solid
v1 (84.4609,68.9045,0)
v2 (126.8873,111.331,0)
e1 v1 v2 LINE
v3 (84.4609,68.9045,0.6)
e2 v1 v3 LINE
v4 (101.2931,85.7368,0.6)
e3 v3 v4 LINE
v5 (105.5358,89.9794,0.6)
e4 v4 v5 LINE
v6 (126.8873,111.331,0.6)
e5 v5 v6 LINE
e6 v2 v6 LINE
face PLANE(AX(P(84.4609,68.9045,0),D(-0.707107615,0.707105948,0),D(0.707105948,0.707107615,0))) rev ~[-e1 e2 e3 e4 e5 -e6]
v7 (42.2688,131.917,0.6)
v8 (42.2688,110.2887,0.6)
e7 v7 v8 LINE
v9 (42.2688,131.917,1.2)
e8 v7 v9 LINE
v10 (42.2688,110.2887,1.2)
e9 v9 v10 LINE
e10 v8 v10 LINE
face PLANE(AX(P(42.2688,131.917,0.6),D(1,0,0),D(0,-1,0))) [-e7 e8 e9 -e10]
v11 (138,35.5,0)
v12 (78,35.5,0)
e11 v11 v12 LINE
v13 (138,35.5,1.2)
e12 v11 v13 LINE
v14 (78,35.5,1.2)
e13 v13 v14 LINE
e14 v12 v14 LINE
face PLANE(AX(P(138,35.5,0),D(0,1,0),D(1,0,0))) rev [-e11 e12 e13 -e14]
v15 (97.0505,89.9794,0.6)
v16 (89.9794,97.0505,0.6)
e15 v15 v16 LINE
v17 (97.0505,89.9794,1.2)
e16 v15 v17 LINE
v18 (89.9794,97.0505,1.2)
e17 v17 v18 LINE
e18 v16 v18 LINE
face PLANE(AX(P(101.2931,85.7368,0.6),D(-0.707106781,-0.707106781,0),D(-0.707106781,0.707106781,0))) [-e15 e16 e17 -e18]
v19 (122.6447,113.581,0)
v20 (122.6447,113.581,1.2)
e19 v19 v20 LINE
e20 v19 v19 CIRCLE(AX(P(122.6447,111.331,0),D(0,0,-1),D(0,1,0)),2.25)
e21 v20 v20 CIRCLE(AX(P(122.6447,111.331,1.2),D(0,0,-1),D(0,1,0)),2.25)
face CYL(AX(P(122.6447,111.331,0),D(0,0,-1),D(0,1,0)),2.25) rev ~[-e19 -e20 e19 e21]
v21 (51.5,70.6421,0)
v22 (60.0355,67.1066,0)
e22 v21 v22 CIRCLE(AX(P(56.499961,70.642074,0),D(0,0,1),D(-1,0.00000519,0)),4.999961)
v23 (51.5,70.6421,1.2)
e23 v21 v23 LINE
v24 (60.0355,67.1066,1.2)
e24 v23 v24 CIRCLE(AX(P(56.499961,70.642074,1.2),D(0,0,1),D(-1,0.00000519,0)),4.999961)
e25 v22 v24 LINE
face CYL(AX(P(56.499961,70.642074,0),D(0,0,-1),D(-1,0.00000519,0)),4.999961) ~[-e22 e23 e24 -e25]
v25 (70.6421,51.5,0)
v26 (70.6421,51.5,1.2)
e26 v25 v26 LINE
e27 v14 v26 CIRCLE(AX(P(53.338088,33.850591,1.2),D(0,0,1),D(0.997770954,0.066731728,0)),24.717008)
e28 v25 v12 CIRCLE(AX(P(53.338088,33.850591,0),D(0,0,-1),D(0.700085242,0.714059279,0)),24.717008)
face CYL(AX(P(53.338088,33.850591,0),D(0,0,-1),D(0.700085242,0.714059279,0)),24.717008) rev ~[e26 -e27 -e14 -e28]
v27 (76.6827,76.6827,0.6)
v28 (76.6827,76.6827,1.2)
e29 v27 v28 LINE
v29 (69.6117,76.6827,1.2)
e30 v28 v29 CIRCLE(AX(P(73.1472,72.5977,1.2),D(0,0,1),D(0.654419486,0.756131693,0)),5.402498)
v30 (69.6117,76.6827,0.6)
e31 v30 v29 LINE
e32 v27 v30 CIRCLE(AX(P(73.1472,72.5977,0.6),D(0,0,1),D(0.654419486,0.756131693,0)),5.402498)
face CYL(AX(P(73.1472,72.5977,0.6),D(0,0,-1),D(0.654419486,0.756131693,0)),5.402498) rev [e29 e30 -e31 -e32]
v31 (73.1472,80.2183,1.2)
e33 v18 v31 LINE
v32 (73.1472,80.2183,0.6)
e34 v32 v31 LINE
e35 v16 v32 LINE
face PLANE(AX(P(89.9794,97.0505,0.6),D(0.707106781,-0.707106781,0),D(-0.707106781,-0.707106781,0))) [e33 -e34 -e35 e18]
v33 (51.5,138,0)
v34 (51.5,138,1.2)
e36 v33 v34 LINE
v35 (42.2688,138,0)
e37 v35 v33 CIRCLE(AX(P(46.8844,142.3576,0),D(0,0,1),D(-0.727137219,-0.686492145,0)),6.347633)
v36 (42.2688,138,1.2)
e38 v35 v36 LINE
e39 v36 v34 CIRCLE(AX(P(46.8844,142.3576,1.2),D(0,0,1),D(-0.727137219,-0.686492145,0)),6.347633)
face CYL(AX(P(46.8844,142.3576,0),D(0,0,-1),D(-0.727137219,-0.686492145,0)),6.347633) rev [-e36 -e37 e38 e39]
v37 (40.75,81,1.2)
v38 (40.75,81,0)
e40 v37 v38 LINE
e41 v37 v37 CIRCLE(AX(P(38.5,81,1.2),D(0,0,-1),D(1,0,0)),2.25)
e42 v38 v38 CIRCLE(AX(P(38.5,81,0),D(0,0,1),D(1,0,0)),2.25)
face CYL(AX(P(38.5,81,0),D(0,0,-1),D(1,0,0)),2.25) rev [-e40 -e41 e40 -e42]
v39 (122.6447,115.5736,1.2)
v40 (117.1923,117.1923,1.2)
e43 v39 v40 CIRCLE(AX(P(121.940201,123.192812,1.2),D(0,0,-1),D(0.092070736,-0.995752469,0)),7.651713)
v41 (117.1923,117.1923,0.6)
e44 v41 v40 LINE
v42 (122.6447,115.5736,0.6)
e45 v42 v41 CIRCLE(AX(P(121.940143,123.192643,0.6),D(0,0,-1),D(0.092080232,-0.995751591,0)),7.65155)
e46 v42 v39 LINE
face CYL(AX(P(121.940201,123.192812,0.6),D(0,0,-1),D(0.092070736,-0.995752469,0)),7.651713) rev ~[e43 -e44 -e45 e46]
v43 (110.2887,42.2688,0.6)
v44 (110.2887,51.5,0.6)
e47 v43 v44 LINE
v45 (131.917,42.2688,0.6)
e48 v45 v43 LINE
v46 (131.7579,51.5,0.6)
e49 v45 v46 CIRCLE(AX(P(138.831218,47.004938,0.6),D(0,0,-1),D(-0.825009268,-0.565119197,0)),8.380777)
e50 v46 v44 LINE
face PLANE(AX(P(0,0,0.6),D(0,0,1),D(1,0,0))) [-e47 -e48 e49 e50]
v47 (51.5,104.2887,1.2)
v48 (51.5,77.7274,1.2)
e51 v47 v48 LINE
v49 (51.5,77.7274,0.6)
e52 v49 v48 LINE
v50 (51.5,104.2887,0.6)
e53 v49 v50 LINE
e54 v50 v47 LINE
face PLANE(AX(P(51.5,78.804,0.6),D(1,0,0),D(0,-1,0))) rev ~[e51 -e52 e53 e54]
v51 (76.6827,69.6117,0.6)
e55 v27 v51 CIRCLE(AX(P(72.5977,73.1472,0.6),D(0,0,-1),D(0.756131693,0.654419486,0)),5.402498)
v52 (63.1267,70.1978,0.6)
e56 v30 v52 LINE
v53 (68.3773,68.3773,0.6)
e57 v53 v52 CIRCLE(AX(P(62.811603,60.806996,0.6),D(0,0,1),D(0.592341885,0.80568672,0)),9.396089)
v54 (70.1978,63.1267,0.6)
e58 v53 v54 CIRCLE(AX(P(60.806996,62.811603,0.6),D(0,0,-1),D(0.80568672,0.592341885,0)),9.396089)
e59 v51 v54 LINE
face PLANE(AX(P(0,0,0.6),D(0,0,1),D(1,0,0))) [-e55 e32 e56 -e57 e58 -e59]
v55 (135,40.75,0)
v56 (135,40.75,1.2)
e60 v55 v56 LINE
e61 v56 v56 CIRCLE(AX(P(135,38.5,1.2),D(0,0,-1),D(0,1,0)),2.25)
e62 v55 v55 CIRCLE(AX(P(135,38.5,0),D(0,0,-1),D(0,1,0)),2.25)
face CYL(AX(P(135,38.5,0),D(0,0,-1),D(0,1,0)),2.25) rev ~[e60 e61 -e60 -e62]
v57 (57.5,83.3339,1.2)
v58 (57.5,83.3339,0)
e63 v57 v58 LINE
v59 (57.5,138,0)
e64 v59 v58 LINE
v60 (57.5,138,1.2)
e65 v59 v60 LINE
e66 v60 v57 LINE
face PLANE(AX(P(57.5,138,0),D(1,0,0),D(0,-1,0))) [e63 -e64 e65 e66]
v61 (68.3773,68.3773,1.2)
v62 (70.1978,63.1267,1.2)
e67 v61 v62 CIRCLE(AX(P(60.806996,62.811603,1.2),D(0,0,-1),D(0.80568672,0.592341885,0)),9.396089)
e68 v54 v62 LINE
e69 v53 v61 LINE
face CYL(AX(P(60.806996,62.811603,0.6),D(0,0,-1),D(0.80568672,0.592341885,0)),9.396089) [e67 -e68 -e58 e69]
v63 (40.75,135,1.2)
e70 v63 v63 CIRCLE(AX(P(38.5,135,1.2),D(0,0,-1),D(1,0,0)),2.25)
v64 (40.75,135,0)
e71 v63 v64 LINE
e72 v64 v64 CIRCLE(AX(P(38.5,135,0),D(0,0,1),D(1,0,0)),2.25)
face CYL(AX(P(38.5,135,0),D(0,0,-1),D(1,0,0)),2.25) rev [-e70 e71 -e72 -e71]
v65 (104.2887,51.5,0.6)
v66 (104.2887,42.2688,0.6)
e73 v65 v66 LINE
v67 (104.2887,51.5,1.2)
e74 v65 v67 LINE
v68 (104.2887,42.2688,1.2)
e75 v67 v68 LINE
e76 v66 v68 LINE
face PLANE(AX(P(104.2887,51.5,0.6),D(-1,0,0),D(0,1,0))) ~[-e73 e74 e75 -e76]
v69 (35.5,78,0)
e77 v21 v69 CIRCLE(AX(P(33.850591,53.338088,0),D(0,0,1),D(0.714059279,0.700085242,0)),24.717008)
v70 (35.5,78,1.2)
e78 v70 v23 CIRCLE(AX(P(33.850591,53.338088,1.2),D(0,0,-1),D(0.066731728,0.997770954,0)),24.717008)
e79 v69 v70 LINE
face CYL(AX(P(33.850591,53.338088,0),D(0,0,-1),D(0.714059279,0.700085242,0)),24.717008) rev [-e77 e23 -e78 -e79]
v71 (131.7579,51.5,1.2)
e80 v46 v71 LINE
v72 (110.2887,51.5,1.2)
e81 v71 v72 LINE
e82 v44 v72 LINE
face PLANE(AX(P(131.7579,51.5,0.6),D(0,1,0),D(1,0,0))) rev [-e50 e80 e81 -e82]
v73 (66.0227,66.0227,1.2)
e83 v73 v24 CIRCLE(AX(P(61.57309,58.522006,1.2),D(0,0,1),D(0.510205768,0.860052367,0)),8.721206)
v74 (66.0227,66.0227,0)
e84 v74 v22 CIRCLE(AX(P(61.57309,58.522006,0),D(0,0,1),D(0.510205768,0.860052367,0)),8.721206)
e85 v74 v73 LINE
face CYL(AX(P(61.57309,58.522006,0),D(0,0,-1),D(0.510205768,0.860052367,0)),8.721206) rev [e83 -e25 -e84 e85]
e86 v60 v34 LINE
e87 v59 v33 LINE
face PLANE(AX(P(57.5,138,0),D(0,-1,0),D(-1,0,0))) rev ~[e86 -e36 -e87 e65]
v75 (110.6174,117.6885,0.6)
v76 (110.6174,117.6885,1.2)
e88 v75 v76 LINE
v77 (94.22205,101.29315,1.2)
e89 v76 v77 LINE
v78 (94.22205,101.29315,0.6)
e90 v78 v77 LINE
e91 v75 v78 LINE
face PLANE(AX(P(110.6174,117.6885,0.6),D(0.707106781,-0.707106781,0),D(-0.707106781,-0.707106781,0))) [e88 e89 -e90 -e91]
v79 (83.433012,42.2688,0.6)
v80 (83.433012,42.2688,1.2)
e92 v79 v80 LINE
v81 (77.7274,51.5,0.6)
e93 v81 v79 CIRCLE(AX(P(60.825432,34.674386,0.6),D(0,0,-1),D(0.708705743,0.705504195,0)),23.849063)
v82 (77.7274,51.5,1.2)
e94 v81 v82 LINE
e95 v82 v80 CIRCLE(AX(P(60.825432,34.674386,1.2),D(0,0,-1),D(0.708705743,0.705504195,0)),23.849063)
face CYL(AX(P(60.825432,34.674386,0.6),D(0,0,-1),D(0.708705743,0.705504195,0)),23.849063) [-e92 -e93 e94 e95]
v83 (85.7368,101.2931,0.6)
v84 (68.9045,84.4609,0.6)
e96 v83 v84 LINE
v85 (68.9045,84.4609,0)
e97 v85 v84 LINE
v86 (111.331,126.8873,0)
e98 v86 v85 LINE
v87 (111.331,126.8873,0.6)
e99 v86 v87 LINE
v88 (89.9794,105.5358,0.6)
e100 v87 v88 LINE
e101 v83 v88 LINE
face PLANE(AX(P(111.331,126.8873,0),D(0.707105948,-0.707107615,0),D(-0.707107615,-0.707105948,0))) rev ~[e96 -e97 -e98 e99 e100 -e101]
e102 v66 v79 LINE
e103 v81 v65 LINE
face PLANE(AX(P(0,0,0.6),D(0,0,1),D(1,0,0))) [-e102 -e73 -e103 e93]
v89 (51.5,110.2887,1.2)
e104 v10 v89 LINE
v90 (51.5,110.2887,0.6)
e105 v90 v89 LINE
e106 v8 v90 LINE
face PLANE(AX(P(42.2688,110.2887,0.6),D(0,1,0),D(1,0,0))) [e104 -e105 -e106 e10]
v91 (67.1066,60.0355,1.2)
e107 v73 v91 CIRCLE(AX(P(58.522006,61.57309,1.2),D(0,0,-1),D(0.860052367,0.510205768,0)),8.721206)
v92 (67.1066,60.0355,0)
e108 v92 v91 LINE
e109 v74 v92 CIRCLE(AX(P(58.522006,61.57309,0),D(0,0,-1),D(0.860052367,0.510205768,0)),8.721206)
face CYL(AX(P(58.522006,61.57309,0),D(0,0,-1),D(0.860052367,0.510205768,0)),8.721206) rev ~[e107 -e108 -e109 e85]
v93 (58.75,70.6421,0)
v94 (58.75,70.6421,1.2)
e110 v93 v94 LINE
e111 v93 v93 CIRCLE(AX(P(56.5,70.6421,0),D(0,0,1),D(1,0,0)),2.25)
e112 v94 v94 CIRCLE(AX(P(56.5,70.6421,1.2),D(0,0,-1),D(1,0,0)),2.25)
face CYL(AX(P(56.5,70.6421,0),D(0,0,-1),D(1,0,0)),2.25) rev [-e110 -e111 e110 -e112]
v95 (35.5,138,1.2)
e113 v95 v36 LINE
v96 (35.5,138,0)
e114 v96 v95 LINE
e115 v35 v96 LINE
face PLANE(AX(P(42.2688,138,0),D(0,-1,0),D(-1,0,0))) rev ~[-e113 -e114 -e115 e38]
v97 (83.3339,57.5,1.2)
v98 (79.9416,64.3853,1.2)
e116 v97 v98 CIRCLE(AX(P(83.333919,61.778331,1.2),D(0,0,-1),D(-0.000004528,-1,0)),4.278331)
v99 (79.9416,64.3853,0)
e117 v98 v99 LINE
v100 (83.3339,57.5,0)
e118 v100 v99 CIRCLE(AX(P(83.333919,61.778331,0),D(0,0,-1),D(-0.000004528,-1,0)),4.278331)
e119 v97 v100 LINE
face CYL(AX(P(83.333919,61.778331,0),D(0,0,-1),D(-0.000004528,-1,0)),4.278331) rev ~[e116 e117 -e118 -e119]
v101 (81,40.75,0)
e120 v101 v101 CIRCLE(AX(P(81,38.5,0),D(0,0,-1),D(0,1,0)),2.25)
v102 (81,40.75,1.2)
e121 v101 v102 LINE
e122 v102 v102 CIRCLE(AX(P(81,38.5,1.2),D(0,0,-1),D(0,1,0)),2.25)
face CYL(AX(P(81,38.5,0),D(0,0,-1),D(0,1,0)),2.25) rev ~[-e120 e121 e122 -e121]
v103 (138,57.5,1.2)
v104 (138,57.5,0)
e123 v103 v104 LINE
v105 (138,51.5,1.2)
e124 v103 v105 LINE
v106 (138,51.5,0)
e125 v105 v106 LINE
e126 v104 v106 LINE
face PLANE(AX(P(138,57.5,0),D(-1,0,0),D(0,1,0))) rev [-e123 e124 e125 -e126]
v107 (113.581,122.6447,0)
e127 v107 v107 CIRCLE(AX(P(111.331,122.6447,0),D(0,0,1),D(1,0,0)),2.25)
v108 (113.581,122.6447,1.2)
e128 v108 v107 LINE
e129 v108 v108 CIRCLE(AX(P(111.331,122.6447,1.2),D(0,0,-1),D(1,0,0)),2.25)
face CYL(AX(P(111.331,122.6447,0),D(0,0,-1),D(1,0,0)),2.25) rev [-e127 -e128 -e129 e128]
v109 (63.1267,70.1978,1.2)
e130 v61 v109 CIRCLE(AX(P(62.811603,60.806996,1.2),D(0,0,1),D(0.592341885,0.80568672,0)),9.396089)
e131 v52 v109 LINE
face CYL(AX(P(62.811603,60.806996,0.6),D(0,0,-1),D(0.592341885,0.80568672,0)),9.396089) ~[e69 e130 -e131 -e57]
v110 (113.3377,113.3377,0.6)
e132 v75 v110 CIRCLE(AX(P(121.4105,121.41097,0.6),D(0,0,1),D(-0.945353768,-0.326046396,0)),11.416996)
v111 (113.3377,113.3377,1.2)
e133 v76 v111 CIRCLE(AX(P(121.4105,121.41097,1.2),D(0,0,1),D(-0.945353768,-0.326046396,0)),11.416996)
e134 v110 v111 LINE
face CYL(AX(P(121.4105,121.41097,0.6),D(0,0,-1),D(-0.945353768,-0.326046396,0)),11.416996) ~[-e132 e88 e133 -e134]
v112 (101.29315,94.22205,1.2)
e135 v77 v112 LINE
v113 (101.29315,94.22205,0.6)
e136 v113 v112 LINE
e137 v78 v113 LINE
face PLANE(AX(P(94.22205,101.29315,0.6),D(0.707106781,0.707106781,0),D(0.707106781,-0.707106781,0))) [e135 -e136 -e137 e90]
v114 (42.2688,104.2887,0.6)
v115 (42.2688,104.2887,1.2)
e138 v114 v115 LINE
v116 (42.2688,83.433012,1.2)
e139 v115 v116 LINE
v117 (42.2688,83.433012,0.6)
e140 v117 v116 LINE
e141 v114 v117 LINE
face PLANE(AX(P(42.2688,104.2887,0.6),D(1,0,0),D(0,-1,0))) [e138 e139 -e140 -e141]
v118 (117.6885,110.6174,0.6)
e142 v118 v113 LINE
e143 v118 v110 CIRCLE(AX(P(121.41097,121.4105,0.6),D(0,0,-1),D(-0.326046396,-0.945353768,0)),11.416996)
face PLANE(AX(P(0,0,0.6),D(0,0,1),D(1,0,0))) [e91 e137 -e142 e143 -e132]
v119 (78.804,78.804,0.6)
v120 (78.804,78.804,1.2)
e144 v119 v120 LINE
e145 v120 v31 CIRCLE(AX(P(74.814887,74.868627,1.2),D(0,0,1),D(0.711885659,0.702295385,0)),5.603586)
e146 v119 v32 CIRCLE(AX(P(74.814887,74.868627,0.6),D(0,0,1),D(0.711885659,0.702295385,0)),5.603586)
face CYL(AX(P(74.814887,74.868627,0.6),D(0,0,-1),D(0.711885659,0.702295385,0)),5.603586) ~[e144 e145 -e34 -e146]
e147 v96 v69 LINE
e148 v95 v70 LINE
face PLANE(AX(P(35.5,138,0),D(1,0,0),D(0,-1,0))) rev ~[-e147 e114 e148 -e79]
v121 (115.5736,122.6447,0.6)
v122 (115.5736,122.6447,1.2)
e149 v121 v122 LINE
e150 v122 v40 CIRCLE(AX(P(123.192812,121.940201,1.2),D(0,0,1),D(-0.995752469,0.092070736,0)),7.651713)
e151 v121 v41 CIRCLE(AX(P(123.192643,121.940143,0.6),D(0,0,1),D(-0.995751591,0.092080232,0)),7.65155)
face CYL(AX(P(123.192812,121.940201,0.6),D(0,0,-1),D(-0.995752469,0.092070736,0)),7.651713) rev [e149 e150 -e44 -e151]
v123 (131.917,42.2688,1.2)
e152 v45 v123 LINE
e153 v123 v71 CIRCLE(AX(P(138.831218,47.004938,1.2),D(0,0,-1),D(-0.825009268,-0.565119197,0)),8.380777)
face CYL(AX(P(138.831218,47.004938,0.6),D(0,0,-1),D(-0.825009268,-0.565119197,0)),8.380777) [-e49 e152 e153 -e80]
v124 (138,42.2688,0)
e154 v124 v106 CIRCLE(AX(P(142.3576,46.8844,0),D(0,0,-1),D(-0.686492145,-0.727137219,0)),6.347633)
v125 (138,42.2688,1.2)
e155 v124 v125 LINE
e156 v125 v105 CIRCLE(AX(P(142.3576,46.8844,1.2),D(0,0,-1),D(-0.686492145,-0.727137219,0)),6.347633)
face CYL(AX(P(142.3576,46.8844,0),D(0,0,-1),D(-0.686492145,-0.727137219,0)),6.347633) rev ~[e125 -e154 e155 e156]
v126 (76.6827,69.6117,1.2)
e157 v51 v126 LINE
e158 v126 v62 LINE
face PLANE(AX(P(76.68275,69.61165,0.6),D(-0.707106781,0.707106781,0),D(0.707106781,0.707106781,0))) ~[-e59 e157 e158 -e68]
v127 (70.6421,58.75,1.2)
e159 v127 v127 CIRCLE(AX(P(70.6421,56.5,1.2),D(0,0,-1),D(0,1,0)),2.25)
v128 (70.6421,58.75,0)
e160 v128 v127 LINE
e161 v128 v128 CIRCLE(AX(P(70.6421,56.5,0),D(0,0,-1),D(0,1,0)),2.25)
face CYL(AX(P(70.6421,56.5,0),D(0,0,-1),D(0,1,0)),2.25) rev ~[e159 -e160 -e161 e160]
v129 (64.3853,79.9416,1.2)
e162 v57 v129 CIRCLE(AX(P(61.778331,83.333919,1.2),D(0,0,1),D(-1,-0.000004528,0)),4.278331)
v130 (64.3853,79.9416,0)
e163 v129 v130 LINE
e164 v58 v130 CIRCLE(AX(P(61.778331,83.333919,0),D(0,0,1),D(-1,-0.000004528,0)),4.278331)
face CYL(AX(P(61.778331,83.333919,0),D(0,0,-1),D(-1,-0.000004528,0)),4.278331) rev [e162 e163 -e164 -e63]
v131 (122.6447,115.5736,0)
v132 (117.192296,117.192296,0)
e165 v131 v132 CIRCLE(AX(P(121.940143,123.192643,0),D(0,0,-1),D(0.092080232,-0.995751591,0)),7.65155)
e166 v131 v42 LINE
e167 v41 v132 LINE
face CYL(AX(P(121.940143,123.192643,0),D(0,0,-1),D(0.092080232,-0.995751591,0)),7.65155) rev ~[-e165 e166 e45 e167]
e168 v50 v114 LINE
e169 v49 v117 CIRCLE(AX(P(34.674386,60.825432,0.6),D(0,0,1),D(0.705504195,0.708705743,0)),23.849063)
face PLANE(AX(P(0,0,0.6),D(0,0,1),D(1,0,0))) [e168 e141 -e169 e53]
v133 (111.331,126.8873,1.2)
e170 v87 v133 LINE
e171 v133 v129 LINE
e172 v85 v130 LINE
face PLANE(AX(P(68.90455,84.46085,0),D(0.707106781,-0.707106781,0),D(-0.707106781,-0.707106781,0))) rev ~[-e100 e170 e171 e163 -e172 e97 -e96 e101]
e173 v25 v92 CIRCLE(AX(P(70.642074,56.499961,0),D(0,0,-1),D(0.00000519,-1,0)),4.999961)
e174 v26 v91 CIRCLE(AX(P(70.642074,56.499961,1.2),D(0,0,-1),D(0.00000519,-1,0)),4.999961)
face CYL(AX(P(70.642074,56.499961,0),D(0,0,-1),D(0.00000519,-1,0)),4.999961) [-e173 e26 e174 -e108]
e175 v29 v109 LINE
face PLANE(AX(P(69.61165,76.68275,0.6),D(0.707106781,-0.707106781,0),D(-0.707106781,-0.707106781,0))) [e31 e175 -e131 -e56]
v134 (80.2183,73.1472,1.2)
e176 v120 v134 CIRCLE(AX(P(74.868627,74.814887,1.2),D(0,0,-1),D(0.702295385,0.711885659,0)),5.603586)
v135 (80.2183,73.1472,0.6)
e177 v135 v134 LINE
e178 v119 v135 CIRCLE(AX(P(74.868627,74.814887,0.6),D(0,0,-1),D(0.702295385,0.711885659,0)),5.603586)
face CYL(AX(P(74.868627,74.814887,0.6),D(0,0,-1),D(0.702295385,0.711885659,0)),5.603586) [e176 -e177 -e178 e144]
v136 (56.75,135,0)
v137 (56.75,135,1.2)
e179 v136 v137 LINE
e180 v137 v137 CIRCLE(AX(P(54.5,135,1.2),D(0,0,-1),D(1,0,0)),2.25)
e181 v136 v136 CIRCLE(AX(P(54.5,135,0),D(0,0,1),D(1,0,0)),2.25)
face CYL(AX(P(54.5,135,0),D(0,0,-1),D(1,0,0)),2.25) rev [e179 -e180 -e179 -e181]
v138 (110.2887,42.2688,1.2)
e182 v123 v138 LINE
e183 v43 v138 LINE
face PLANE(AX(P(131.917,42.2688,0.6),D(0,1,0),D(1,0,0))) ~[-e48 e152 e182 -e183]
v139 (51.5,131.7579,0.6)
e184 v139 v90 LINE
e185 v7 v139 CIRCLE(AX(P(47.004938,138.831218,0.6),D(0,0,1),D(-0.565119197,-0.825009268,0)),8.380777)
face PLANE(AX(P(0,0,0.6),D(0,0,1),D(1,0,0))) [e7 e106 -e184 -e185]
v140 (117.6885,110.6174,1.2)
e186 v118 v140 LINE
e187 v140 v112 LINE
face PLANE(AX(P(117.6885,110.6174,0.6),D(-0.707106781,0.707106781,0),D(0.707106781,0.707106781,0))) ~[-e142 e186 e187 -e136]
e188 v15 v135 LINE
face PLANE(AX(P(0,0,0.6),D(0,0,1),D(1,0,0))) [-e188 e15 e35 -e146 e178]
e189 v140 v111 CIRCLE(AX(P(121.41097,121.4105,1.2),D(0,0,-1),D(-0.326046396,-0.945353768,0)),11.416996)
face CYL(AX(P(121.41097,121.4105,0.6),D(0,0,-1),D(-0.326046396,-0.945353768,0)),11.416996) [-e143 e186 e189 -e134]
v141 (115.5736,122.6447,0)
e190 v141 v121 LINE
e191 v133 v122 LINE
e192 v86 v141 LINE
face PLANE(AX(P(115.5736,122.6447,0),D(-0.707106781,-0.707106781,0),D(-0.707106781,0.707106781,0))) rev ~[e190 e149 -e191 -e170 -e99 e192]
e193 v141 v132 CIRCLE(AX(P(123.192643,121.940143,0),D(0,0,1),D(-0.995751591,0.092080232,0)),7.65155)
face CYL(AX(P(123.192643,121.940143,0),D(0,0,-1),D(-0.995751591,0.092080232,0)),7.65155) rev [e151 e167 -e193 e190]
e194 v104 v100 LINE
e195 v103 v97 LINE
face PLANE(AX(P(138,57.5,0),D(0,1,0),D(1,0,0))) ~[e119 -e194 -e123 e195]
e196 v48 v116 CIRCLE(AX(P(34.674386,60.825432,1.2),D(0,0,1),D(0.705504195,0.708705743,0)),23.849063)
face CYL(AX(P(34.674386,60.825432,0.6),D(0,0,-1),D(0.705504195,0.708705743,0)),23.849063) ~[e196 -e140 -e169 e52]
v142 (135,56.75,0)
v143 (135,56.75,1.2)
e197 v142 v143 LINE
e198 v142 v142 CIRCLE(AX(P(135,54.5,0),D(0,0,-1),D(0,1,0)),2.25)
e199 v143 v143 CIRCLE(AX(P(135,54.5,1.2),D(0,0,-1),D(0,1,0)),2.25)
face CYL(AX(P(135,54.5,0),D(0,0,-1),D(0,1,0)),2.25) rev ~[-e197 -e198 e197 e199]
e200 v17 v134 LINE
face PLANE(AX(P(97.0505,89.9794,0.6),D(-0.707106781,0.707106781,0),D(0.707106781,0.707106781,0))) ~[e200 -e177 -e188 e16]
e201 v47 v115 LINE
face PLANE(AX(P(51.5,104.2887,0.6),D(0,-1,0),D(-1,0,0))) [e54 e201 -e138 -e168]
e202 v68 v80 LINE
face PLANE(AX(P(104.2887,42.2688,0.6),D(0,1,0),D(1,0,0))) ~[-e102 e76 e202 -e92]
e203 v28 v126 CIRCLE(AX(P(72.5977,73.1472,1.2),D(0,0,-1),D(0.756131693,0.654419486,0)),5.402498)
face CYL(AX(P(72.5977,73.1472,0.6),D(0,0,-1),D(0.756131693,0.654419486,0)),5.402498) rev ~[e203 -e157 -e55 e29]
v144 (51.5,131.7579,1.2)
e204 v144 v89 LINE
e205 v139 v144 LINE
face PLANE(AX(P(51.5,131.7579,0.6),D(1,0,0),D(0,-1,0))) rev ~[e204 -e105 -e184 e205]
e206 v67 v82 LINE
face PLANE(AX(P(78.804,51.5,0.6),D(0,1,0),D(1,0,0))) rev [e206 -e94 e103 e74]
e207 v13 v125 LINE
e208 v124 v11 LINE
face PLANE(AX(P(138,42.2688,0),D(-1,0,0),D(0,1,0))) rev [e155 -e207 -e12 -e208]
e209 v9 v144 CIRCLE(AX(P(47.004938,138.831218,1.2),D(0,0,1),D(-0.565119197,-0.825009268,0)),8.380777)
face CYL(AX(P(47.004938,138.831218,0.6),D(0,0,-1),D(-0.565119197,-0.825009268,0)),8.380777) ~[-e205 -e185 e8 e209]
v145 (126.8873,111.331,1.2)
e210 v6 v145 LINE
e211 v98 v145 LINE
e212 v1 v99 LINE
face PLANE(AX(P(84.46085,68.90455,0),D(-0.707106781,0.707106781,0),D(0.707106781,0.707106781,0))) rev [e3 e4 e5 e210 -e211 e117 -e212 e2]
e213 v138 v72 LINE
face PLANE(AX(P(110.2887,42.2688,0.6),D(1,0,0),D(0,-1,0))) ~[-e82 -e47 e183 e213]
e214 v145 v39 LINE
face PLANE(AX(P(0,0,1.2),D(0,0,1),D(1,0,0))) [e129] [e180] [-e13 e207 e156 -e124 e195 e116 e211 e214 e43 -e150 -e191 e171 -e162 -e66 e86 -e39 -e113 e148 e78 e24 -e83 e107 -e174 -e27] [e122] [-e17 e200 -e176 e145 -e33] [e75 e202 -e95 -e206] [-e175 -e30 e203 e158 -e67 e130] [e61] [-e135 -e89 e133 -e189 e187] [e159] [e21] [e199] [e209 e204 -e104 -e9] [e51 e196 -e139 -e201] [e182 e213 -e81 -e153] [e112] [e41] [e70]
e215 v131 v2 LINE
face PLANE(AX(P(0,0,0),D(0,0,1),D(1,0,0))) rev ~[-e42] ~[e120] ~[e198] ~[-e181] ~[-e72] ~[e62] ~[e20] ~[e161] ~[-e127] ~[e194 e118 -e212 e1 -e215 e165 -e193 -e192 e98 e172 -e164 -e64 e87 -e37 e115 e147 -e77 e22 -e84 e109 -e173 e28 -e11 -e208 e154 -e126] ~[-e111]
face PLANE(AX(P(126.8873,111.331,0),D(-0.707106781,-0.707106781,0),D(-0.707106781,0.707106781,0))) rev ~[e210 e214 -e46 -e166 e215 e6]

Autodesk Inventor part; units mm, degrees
ref_plane "YZ Plane" through (0, 0, 0) normal (1, 0, 0) x (0, 1, 0)
ref_plane "XZ Plane" through (0, 0, 0) normal (0, 1, 0) x (-1, 0, 0)
sketch "Sketch1" plane through (0, 0, 0) normal (0, 0, 1) x (1, 0, 0)
  line L0 (-41.5, 58) -> (41.5, 58)
  line L1 (41.5, 58) -> (41.5, 158)
  line L2 (41.5, 158) -> (-41.5, 158)
  line L3 (-41.5, 158) -> (-41.5, 58)
  line L4 (58, 41.5) -> (158, 41.5)
  line L5 (158, 41.5) -> (158, -41.5)
  line L6 (158, -41.5) -> (58, -41.5)
  line L7 (58, -41.5) -> (58, 41.5)
  line L8 (-131.1952, 0) -> (204.4844, 0) construction
  line L9 (-48, 48) -> (48, 48)
  line L10 (48, 48) -> (48, -48)
  line L11 (48, -48) -> (-48, -48)
  line L12 (-48, -48) -> (-48, 48)
  line L13 (0, 180.9439) -> (0, -136.3054) construction
  point P0 (0, 0)
  point P1 (-48, 0)
  point P2 (0, 48)
  point P3 (0, 58)
  point P4 (58, 0)
  dimension "d0" = 83
  dimension "d1" = 100
  dimension "d2" = 100
  dimension "d3" = 83
  dimension "d5" = 96
  dimension "d6" = 96
  dimension "d7" = 10
  dimension "d8" = 10
sketch "Sketch2" plane through (0, 0, 0) normal (0, 0, 1) x (1, 0, 0)
  line L0 (41.5, 158) -> (-41.5, 158) projected
  line L1 (41.5, 58) -> (41.5, 158) projected
  line L2 (-48, 48) -> (48, 48) projected
  line L3 (48, 48) -> (48, -48) projected
  line L4 (58, -41.5) -> (58, 41.5) projected
  line L5 (58, 41.5) -> (158, 41.5) projected
  line L6 (-41.5, 58) -> (41.5, 58) projected
  line L7 (158, 41.5) -> (158, -41.5) projected
  line L8 (48, 48) -> (136.7868, 136.7868) construction
  line L9 (35.5, 78) -> (57.5, 78)
  line L10 (57.5, 78) -> (57.5, 138)
  line L11 (57.5, 138) -> (35.5, 138)
  line L12 (35.5, 138) -> (35.5, 78)
  line L13 (41.5, 108) -> (-41.5, 108) construction
  line L14 (108, 41.5) -> (108, -41.5) construction
  line L15 (41.5, 158) -> (220.1006, 158) construction
  line L16 (158, 41.5) -> (158, 206.0131) construction
  line L17 (115.5736, 158) -> (158, 115.5736) construction
  line L18 (41.5, 138) -> (41.5, 78) construction
  line L19 (51.5, 138) -> (51.5, 78) construction
  line L20 (46.5, 138) -> (46.5, 78) construction
  line L21 (51.5, 158) -> (51.5, 70.6421)
  line L22 (60.0355, 67.1066) -> (133.2513, 140.3223)
  arc A0 (51.5, 158) -> (133.2513, 140.3223) centre (109.2071, 226.9991) ccw
  line L23 (68.9045, 84.4609) -> (84.4609, 68.9045)
  line L24 (84.4609, 68.9045) -> (126.8873, 111.331)
  line L25 (126.8873, 111.331) -> (111.331, 126.8873)
  line L26 (111.331, 126.8873) -> (68.9045, 84.4609)
  line L27 (80.2183, 73.1472) -> (122.6447, 115.5736) construction
  line L28 (105.6741, 90.1177) -> (90.1177, 105.6741) construction
  line L29 (73.1472, 80.2183) -> (115.5736, 122.6447) construction
  line L30 (76.6827, 76.6827) -> (119.1091, 119.1091) construction
  circle A1 centre (73.1472, 84.4609) radius 2.25
  circle A2 centre (111.331, 122.6447) radius 2.25
  circle A3 centre (84.4609, 73.1472) radius 2.25
  circle A4 centre (122.6447, 111.331) radius 2.25
  circle A5 centre (38.5, 135) radius 2.25
  circle A6 centre (38.5, 81) radius 2.25
  circle A7 centre (54.5, 135) radius 2.25
  circle A8 centre (54.5, 81) radius 2.25
  arc A9 (51.5, 70.6421) -> (60.0355, 67.1066) centre (56.5, 70.6421) ccw
  point P0 (0, 0)
  point P1 (158, 158)
  dimension "d23" = 30
  dimension "d25" = 45
  dimension "d30" = 10
  dimension "d37" = 10
  dimension "d38" = 60
  dimension "d39" = 4.5
  dimension "d40" = 3
  dimension "d42" = 4.5
  dimension "d43" = 3
  dimension "d46" = 60
  dimension "d47" = 30
  dimension "d48" = 4.5
  dimension "d49" = 3
  dimension "d50" = 3
  dimension "d51" = 4.5
  dimension "d52" = 3
  dimension "d53" = 3
  dimension "d54" = 5
  dimension "d55" = 25
  dimension "d57" = 3
  dimension "d58" = 3
  dimension "d59" = 3
  dimension "d60" = 3
sketch "Sketch6" plane through (0, 0, 0) normal (0, 0, 1) x (1, 0, 0)
  line L0 (57.5, 138) -> (35.5, 138) projected
  line L1 (35.5, 138) -> (35.5, 78) projected
  line L2 (35.5, 78) -> (57.5, 78) projected
  circle A0 centre (38.5, 81) radius 2.25 projected
  circle A1 centre (38.5, 135) radius 2.25 projected
  circle A2 centre (54.5, 135) radius 2.25 projected
  line L3 (111.331, 126.8873) -> (68.9045, 84.4609) projected
  circle A3 centre (111.331, 122.6447) radius 2.25 projected
  line L4 (126.8873, 111.331) -> (111.331, 126.8873) projected
  line L5 (84.4609, 68.9045) -> (126.8873, 111.331) projected
  line L6 (68.9045, 84.4609) -> (84.4609, 68.9045) projected
  line L7 (60.0355, 67.1066) -> (133.2513, 140.3223) projected
  arc A4 (51.5, 70.6421) -> (60.0355, 67.1066) centre (56.5, 70.6421) ccw projected
  line L8 (51.5, 158) -> (51.5, 70.6421) projected
  arc A5 (51.5, 158) -> (133.2513, 140.3223) centre (109.2071, 226.9991) ccw projected
  line L9 (119.1091, 119.1091) -> (76.6827, 76.6827) construction
  circle A6 centre (38.5, 135) radius 2.25
  circle A7 centre (38.5, 81) radius 2.25
  circle A8 centre (54.5, 135) radius 2.25
  circle A9 centre (111.331, 122.6447) radius 2.25
  circle A10 centre (56.5, 70.6421) radius 2.25
  line L10 (57.5, 138) -> (51.5, 138)
  line L11 (35.5, 138) -> (35.5, 78)
  line L12 (57.5, 138) -> (57.5, 83.3339)
  line L13 (111.331, 126.8873) -> (64.3853, 79.9416)
  line L14 (111.331, 126.8873) -> (115.5736, 122.6447)
  line L15 (126.8873, 111.331) -> (84.4609, 68.9045)
  arc A11 (51.5, 70.6421) -> (60.0355, 67.1066) centre (56.5, 70.6421) ccw
  arc A12 (51.5, 70.6421) -> (35.5, 78) centre (33.8506, 53.3381) ccw
  arc A13 (42.2688, 138) -> (51.5, 138) centre (46.8844, 142.3576) ccw
  line L16 (42.2688, 138) -> (35.5, 138)
  arc A14 (115.5736, 122.6447) -> (123.8972, 114.3211) centre (123.1928, 121.9402) ccw
  line L17 (123.8972, 114.3211) -> (126.8873, 111.331)
  arc A15 (57.5, 83.3339) -> (64.3853, 79.9416) centre (61.7783, 83.3339) ccw
  arc A16 (66.0227, 66.0227) -> (60.0355, 67.1066) centre (61.5732, 58.5223) ccw
  line L18 (66.0227, 66.0227) -> (76.6827, 76.6827)
  line L19 (76.6827, 76.6827) -> (84.4609, 68.9045)
  point P0 (0, 0)
  point P1 (69.6117, 76.6827)
  dimension "d99" = 4.5
extrude "Extrusion13" add sketch "Sketch6" along normal blind 0.6 contours L12 A15 L13 L6 L7 A4 L8 L0 | L8 L2 L1 L0 A13 | L8 A12 L2 | L3 L4 L7 L6 | A14 L4 L5 L6 L7 | L7 L6 L18 A16 | A2 | A3 | A10
ref_plane "Work Plane5" through (119.1091, 119.1091, 0) normal (-0.7071, 0.7071, 0) x (-0.7071, -0.7071, 0)
mirror "Mirror3" about plane through (119.1091, 119.1091, 0) normal (-0.7071, 0.7071, 0) of "Extrusion13"
extrude "Extrusion14" cut sketch "Sketch6" along normal blind 0.6 contours A3
mirror "Mirror4" about plane through (119.1091, 119.1091, 0) normal (-0.7071, 0.7071, 0) of "Extrusion14"
sketch "Sketch8" plane through (0, 0, 0.6) normal (0, 0, 1) x (1, 0, 0)
  line L0 (57.5, 138) -> (51.5, 138) projected
  arc A0 (51.5, 70.6421) -> (60.0355, 67.1066) centre (56.5, 70.6421) ccw projected
  line L1 (57.5, 138) -> (51.5, 138)
  line L2 (51.5, 138) -> (51.5, 70.6421)
  line L3 (51.5, 70.6421) -> (57.5, 70.6421)
  line L4 (57.5, 70.6421) -> (57.5, 138)
  line L5 (35.5, 138) -> (35.5, 78) projected
  line L6 (35.5, 138) -> (42.2688, 138)
  line L7 (42.2688, 138) -> (42.2688, 76.5774)
  line L8 (42.2688, 76.5774) -> (35.5, 76.5774)
  line L9 (35.5, 76.5774) -> (35.5, 138)
  arc A1 (51.5, 70.6421) -> (35.5, 78) centre (33.8506, 53.3381) ccw projected
  arc A2 (42.2688, 131.917) -> (51.5, 131.7579) centre (47.0049, 138.8311) ccw
  line L10 (35.5, 107.2887) -> (57.5, 107.2887) construction
  line L11 (57.5, 83.3339) -> (57.5, 138) projected
  line L12 (35.5, 110.2887) -> (57.5, 110.2887)
  line L13 (57.5, 110.2887) -> (57.5, 104.2887)
  line L14 (57.5, 104.2887) -> (35.5, 104.2887)
  line L15 (35.5, 104.2887) -> (35.5, 110.2887)
  line L16 (111.331, 126.8873) -> (115.5736, 122.6447)
  line L17 (115.5736, 122.6447) -> (60.0355, 67.1066)
  line L18 (60.0355, 67.1066) -> (55.7929, 71.3492)
  line L19 (55.7929, 71.3492) -> (111.331, 126.8873)
  line L20 (64.3853, 79.9416) -> (111.331, 126.8873) projected
  line L21 (64.3853, 79.9416) -> (111.331, 126.8873) projected
  line L22 (87.8581, 103.4145) -> (103.4145, 87.8581) construction
  line L23 (79.9416, 64.3853) -> (126.8873, 111.331) projected
  line L24 (89.9794, 105.5358) -> (105.5358, 89.9794)
  line L25 (105.5358, 89.9794) -> (101.2931, 85.7368)
  line L26 (101.2931, 85.7368) -> (85.7368, 101.2931)
  line L27 (85.7368, 101.2931) -> (89.9794, 105.5358)
  arc A3 (51.5, 70.6421) -> (60.0355, 67.1066) centre (56.5, 70.6421) ccw
  arc A4 (57.5, 83.3339) -> (64.3853, 79.9416) centre (61.7783, 83.3339) ccw projected
  arc A5 (57.5, 83.3339) -> (64.3853, 79.9416) centre (61.7783, 83.3339) ccw
  arc A6 (76.6827, 76.6827) -> (69.6117, 76.6827) centre (73.1472, 72.5977) ccw
  line L28 (76.6827, 76.6827) -> (78.804, 78.804)
  arc A7 (78.804, 78.804) -> (73.1472, 80.2183) centre (74.8151, 74.869) ccw
  line L29 (42.2688, 131.917) -> (42.2688, 138)
  line L30 (51.5, 131.7579) -> (51.5, 138)
  line L31 (73.1472, 80.2183) -> (69.6117, 76.6827)
  line L32 (126.8873, 111.331) -> (122.6447, 115.5736) projected
  arc A8 (117.1923, 117.1923) -> (122.6447, 115.5736) centre (121.9402, 123.1928) ccw projected
  arc A9 (115.5736, 122.6447) -> (122.6447, 115.5736) centre (121.4114, 121.4114) ccw
  arc A10 (110.6174, 117.6885) -> (113.3377, 113.3377) centre (121.4114, 121.4114) ccw
  arc A11 (115.5736, 122.6447) -> (117.1923, 117.1923) centre (123.1928, 121.9402) ccw projected
  line L33 (111.331, 126.8873) -> (115.5736, 122.6447) projected
  line L34 (115.5736, 122.6447) -> (110.6174, 117.6885)
  arc A12 (51.5, 77.7274) -> (35.5, 84.6602) centre (34.6745, 60.8256) ccw
  line L35 (35.5, 85.7368) -> (35.5, 78)
  line L36 (51.5, 78.804) -> (51.5, 70.6421)
  arc A13 (51.5, 70.6421) -> (35.5, 78) centre (33.8506, 53.3381) ccw
  arc A14 (42.2688, 138) -> (51.5, 138) centre (46.8844, 142.3576) ccw projected
  line L37 (42.2688, 138) -> (35.5, 138) projected
  arc A15 (42.2688, 138) -> (51.5, 138) centre (46.8844, 142.3576) ccw
  line L38 (117.1923, 117.1923) -> (113.3377, 113.3377)
  arc A16 (68.3773, 68.3773) -> (63.1267, 70.1978) centre (62.8115, 60.8068) ccw
  arc A17 (66.0227, 66.0227) -> (60.0355, 67.1066) centre (61.5732, 58.5223) ccw projected
  line L39 (68.3773, 68.3773) -> (66.0227, 66.0227)
  line L40 (57.5, 138) -> (57.5, 83.3339) projected
  line L41 (57.5, 83.3339) -> (57.5, 73.0563)
  line L42 (57.5, 73.0563) -> (64.3853, 79.9416)
  point P0 (0, 0)
  point P1 (35.5, 107.2887)
  dimension "d114" = 6
  dimension "d117" = 3
extrude "Extrusion15" add sketch "Sketch8" along normal blind 0.6 contours L4 L12 L2 L0 | L2 A2 L7 A14 | L4 L14 L2 L12 | L7 L12 L5 L6 | L4 L19 L18 L3 L2 L14 | L2 L14 L7 L12 | A4 L19 L4 | L7 L14 L5 L12 | L19 L26 L17 L18 L3 L4 | L4 L3 L18 L19 | L7 A12 L5 L14 | L19 L24 L17 L26 | L2 A1 L7 A12 | L7 A1 L5 A12 | L18 A0 L3 | L19 L16 L17 L24 | L17 L24 L23 L26 | L17 A16 L39 A17 | A7 L28 A6 L17 | A9 L38 A10 L17 | A11 A9
extrude "Extrusion16" cut sketch "Sketch6" along normal blind 3 contours A0 | A1 | A2 | A3 | A10
mirror "Mirror5" about plane through (119.1091, 119.1091, 0) normal (-0.7071, 0.7071, 0) of "Extrusion15", "Extrusion16"
properties part number "SolarFolds_Sketch"
